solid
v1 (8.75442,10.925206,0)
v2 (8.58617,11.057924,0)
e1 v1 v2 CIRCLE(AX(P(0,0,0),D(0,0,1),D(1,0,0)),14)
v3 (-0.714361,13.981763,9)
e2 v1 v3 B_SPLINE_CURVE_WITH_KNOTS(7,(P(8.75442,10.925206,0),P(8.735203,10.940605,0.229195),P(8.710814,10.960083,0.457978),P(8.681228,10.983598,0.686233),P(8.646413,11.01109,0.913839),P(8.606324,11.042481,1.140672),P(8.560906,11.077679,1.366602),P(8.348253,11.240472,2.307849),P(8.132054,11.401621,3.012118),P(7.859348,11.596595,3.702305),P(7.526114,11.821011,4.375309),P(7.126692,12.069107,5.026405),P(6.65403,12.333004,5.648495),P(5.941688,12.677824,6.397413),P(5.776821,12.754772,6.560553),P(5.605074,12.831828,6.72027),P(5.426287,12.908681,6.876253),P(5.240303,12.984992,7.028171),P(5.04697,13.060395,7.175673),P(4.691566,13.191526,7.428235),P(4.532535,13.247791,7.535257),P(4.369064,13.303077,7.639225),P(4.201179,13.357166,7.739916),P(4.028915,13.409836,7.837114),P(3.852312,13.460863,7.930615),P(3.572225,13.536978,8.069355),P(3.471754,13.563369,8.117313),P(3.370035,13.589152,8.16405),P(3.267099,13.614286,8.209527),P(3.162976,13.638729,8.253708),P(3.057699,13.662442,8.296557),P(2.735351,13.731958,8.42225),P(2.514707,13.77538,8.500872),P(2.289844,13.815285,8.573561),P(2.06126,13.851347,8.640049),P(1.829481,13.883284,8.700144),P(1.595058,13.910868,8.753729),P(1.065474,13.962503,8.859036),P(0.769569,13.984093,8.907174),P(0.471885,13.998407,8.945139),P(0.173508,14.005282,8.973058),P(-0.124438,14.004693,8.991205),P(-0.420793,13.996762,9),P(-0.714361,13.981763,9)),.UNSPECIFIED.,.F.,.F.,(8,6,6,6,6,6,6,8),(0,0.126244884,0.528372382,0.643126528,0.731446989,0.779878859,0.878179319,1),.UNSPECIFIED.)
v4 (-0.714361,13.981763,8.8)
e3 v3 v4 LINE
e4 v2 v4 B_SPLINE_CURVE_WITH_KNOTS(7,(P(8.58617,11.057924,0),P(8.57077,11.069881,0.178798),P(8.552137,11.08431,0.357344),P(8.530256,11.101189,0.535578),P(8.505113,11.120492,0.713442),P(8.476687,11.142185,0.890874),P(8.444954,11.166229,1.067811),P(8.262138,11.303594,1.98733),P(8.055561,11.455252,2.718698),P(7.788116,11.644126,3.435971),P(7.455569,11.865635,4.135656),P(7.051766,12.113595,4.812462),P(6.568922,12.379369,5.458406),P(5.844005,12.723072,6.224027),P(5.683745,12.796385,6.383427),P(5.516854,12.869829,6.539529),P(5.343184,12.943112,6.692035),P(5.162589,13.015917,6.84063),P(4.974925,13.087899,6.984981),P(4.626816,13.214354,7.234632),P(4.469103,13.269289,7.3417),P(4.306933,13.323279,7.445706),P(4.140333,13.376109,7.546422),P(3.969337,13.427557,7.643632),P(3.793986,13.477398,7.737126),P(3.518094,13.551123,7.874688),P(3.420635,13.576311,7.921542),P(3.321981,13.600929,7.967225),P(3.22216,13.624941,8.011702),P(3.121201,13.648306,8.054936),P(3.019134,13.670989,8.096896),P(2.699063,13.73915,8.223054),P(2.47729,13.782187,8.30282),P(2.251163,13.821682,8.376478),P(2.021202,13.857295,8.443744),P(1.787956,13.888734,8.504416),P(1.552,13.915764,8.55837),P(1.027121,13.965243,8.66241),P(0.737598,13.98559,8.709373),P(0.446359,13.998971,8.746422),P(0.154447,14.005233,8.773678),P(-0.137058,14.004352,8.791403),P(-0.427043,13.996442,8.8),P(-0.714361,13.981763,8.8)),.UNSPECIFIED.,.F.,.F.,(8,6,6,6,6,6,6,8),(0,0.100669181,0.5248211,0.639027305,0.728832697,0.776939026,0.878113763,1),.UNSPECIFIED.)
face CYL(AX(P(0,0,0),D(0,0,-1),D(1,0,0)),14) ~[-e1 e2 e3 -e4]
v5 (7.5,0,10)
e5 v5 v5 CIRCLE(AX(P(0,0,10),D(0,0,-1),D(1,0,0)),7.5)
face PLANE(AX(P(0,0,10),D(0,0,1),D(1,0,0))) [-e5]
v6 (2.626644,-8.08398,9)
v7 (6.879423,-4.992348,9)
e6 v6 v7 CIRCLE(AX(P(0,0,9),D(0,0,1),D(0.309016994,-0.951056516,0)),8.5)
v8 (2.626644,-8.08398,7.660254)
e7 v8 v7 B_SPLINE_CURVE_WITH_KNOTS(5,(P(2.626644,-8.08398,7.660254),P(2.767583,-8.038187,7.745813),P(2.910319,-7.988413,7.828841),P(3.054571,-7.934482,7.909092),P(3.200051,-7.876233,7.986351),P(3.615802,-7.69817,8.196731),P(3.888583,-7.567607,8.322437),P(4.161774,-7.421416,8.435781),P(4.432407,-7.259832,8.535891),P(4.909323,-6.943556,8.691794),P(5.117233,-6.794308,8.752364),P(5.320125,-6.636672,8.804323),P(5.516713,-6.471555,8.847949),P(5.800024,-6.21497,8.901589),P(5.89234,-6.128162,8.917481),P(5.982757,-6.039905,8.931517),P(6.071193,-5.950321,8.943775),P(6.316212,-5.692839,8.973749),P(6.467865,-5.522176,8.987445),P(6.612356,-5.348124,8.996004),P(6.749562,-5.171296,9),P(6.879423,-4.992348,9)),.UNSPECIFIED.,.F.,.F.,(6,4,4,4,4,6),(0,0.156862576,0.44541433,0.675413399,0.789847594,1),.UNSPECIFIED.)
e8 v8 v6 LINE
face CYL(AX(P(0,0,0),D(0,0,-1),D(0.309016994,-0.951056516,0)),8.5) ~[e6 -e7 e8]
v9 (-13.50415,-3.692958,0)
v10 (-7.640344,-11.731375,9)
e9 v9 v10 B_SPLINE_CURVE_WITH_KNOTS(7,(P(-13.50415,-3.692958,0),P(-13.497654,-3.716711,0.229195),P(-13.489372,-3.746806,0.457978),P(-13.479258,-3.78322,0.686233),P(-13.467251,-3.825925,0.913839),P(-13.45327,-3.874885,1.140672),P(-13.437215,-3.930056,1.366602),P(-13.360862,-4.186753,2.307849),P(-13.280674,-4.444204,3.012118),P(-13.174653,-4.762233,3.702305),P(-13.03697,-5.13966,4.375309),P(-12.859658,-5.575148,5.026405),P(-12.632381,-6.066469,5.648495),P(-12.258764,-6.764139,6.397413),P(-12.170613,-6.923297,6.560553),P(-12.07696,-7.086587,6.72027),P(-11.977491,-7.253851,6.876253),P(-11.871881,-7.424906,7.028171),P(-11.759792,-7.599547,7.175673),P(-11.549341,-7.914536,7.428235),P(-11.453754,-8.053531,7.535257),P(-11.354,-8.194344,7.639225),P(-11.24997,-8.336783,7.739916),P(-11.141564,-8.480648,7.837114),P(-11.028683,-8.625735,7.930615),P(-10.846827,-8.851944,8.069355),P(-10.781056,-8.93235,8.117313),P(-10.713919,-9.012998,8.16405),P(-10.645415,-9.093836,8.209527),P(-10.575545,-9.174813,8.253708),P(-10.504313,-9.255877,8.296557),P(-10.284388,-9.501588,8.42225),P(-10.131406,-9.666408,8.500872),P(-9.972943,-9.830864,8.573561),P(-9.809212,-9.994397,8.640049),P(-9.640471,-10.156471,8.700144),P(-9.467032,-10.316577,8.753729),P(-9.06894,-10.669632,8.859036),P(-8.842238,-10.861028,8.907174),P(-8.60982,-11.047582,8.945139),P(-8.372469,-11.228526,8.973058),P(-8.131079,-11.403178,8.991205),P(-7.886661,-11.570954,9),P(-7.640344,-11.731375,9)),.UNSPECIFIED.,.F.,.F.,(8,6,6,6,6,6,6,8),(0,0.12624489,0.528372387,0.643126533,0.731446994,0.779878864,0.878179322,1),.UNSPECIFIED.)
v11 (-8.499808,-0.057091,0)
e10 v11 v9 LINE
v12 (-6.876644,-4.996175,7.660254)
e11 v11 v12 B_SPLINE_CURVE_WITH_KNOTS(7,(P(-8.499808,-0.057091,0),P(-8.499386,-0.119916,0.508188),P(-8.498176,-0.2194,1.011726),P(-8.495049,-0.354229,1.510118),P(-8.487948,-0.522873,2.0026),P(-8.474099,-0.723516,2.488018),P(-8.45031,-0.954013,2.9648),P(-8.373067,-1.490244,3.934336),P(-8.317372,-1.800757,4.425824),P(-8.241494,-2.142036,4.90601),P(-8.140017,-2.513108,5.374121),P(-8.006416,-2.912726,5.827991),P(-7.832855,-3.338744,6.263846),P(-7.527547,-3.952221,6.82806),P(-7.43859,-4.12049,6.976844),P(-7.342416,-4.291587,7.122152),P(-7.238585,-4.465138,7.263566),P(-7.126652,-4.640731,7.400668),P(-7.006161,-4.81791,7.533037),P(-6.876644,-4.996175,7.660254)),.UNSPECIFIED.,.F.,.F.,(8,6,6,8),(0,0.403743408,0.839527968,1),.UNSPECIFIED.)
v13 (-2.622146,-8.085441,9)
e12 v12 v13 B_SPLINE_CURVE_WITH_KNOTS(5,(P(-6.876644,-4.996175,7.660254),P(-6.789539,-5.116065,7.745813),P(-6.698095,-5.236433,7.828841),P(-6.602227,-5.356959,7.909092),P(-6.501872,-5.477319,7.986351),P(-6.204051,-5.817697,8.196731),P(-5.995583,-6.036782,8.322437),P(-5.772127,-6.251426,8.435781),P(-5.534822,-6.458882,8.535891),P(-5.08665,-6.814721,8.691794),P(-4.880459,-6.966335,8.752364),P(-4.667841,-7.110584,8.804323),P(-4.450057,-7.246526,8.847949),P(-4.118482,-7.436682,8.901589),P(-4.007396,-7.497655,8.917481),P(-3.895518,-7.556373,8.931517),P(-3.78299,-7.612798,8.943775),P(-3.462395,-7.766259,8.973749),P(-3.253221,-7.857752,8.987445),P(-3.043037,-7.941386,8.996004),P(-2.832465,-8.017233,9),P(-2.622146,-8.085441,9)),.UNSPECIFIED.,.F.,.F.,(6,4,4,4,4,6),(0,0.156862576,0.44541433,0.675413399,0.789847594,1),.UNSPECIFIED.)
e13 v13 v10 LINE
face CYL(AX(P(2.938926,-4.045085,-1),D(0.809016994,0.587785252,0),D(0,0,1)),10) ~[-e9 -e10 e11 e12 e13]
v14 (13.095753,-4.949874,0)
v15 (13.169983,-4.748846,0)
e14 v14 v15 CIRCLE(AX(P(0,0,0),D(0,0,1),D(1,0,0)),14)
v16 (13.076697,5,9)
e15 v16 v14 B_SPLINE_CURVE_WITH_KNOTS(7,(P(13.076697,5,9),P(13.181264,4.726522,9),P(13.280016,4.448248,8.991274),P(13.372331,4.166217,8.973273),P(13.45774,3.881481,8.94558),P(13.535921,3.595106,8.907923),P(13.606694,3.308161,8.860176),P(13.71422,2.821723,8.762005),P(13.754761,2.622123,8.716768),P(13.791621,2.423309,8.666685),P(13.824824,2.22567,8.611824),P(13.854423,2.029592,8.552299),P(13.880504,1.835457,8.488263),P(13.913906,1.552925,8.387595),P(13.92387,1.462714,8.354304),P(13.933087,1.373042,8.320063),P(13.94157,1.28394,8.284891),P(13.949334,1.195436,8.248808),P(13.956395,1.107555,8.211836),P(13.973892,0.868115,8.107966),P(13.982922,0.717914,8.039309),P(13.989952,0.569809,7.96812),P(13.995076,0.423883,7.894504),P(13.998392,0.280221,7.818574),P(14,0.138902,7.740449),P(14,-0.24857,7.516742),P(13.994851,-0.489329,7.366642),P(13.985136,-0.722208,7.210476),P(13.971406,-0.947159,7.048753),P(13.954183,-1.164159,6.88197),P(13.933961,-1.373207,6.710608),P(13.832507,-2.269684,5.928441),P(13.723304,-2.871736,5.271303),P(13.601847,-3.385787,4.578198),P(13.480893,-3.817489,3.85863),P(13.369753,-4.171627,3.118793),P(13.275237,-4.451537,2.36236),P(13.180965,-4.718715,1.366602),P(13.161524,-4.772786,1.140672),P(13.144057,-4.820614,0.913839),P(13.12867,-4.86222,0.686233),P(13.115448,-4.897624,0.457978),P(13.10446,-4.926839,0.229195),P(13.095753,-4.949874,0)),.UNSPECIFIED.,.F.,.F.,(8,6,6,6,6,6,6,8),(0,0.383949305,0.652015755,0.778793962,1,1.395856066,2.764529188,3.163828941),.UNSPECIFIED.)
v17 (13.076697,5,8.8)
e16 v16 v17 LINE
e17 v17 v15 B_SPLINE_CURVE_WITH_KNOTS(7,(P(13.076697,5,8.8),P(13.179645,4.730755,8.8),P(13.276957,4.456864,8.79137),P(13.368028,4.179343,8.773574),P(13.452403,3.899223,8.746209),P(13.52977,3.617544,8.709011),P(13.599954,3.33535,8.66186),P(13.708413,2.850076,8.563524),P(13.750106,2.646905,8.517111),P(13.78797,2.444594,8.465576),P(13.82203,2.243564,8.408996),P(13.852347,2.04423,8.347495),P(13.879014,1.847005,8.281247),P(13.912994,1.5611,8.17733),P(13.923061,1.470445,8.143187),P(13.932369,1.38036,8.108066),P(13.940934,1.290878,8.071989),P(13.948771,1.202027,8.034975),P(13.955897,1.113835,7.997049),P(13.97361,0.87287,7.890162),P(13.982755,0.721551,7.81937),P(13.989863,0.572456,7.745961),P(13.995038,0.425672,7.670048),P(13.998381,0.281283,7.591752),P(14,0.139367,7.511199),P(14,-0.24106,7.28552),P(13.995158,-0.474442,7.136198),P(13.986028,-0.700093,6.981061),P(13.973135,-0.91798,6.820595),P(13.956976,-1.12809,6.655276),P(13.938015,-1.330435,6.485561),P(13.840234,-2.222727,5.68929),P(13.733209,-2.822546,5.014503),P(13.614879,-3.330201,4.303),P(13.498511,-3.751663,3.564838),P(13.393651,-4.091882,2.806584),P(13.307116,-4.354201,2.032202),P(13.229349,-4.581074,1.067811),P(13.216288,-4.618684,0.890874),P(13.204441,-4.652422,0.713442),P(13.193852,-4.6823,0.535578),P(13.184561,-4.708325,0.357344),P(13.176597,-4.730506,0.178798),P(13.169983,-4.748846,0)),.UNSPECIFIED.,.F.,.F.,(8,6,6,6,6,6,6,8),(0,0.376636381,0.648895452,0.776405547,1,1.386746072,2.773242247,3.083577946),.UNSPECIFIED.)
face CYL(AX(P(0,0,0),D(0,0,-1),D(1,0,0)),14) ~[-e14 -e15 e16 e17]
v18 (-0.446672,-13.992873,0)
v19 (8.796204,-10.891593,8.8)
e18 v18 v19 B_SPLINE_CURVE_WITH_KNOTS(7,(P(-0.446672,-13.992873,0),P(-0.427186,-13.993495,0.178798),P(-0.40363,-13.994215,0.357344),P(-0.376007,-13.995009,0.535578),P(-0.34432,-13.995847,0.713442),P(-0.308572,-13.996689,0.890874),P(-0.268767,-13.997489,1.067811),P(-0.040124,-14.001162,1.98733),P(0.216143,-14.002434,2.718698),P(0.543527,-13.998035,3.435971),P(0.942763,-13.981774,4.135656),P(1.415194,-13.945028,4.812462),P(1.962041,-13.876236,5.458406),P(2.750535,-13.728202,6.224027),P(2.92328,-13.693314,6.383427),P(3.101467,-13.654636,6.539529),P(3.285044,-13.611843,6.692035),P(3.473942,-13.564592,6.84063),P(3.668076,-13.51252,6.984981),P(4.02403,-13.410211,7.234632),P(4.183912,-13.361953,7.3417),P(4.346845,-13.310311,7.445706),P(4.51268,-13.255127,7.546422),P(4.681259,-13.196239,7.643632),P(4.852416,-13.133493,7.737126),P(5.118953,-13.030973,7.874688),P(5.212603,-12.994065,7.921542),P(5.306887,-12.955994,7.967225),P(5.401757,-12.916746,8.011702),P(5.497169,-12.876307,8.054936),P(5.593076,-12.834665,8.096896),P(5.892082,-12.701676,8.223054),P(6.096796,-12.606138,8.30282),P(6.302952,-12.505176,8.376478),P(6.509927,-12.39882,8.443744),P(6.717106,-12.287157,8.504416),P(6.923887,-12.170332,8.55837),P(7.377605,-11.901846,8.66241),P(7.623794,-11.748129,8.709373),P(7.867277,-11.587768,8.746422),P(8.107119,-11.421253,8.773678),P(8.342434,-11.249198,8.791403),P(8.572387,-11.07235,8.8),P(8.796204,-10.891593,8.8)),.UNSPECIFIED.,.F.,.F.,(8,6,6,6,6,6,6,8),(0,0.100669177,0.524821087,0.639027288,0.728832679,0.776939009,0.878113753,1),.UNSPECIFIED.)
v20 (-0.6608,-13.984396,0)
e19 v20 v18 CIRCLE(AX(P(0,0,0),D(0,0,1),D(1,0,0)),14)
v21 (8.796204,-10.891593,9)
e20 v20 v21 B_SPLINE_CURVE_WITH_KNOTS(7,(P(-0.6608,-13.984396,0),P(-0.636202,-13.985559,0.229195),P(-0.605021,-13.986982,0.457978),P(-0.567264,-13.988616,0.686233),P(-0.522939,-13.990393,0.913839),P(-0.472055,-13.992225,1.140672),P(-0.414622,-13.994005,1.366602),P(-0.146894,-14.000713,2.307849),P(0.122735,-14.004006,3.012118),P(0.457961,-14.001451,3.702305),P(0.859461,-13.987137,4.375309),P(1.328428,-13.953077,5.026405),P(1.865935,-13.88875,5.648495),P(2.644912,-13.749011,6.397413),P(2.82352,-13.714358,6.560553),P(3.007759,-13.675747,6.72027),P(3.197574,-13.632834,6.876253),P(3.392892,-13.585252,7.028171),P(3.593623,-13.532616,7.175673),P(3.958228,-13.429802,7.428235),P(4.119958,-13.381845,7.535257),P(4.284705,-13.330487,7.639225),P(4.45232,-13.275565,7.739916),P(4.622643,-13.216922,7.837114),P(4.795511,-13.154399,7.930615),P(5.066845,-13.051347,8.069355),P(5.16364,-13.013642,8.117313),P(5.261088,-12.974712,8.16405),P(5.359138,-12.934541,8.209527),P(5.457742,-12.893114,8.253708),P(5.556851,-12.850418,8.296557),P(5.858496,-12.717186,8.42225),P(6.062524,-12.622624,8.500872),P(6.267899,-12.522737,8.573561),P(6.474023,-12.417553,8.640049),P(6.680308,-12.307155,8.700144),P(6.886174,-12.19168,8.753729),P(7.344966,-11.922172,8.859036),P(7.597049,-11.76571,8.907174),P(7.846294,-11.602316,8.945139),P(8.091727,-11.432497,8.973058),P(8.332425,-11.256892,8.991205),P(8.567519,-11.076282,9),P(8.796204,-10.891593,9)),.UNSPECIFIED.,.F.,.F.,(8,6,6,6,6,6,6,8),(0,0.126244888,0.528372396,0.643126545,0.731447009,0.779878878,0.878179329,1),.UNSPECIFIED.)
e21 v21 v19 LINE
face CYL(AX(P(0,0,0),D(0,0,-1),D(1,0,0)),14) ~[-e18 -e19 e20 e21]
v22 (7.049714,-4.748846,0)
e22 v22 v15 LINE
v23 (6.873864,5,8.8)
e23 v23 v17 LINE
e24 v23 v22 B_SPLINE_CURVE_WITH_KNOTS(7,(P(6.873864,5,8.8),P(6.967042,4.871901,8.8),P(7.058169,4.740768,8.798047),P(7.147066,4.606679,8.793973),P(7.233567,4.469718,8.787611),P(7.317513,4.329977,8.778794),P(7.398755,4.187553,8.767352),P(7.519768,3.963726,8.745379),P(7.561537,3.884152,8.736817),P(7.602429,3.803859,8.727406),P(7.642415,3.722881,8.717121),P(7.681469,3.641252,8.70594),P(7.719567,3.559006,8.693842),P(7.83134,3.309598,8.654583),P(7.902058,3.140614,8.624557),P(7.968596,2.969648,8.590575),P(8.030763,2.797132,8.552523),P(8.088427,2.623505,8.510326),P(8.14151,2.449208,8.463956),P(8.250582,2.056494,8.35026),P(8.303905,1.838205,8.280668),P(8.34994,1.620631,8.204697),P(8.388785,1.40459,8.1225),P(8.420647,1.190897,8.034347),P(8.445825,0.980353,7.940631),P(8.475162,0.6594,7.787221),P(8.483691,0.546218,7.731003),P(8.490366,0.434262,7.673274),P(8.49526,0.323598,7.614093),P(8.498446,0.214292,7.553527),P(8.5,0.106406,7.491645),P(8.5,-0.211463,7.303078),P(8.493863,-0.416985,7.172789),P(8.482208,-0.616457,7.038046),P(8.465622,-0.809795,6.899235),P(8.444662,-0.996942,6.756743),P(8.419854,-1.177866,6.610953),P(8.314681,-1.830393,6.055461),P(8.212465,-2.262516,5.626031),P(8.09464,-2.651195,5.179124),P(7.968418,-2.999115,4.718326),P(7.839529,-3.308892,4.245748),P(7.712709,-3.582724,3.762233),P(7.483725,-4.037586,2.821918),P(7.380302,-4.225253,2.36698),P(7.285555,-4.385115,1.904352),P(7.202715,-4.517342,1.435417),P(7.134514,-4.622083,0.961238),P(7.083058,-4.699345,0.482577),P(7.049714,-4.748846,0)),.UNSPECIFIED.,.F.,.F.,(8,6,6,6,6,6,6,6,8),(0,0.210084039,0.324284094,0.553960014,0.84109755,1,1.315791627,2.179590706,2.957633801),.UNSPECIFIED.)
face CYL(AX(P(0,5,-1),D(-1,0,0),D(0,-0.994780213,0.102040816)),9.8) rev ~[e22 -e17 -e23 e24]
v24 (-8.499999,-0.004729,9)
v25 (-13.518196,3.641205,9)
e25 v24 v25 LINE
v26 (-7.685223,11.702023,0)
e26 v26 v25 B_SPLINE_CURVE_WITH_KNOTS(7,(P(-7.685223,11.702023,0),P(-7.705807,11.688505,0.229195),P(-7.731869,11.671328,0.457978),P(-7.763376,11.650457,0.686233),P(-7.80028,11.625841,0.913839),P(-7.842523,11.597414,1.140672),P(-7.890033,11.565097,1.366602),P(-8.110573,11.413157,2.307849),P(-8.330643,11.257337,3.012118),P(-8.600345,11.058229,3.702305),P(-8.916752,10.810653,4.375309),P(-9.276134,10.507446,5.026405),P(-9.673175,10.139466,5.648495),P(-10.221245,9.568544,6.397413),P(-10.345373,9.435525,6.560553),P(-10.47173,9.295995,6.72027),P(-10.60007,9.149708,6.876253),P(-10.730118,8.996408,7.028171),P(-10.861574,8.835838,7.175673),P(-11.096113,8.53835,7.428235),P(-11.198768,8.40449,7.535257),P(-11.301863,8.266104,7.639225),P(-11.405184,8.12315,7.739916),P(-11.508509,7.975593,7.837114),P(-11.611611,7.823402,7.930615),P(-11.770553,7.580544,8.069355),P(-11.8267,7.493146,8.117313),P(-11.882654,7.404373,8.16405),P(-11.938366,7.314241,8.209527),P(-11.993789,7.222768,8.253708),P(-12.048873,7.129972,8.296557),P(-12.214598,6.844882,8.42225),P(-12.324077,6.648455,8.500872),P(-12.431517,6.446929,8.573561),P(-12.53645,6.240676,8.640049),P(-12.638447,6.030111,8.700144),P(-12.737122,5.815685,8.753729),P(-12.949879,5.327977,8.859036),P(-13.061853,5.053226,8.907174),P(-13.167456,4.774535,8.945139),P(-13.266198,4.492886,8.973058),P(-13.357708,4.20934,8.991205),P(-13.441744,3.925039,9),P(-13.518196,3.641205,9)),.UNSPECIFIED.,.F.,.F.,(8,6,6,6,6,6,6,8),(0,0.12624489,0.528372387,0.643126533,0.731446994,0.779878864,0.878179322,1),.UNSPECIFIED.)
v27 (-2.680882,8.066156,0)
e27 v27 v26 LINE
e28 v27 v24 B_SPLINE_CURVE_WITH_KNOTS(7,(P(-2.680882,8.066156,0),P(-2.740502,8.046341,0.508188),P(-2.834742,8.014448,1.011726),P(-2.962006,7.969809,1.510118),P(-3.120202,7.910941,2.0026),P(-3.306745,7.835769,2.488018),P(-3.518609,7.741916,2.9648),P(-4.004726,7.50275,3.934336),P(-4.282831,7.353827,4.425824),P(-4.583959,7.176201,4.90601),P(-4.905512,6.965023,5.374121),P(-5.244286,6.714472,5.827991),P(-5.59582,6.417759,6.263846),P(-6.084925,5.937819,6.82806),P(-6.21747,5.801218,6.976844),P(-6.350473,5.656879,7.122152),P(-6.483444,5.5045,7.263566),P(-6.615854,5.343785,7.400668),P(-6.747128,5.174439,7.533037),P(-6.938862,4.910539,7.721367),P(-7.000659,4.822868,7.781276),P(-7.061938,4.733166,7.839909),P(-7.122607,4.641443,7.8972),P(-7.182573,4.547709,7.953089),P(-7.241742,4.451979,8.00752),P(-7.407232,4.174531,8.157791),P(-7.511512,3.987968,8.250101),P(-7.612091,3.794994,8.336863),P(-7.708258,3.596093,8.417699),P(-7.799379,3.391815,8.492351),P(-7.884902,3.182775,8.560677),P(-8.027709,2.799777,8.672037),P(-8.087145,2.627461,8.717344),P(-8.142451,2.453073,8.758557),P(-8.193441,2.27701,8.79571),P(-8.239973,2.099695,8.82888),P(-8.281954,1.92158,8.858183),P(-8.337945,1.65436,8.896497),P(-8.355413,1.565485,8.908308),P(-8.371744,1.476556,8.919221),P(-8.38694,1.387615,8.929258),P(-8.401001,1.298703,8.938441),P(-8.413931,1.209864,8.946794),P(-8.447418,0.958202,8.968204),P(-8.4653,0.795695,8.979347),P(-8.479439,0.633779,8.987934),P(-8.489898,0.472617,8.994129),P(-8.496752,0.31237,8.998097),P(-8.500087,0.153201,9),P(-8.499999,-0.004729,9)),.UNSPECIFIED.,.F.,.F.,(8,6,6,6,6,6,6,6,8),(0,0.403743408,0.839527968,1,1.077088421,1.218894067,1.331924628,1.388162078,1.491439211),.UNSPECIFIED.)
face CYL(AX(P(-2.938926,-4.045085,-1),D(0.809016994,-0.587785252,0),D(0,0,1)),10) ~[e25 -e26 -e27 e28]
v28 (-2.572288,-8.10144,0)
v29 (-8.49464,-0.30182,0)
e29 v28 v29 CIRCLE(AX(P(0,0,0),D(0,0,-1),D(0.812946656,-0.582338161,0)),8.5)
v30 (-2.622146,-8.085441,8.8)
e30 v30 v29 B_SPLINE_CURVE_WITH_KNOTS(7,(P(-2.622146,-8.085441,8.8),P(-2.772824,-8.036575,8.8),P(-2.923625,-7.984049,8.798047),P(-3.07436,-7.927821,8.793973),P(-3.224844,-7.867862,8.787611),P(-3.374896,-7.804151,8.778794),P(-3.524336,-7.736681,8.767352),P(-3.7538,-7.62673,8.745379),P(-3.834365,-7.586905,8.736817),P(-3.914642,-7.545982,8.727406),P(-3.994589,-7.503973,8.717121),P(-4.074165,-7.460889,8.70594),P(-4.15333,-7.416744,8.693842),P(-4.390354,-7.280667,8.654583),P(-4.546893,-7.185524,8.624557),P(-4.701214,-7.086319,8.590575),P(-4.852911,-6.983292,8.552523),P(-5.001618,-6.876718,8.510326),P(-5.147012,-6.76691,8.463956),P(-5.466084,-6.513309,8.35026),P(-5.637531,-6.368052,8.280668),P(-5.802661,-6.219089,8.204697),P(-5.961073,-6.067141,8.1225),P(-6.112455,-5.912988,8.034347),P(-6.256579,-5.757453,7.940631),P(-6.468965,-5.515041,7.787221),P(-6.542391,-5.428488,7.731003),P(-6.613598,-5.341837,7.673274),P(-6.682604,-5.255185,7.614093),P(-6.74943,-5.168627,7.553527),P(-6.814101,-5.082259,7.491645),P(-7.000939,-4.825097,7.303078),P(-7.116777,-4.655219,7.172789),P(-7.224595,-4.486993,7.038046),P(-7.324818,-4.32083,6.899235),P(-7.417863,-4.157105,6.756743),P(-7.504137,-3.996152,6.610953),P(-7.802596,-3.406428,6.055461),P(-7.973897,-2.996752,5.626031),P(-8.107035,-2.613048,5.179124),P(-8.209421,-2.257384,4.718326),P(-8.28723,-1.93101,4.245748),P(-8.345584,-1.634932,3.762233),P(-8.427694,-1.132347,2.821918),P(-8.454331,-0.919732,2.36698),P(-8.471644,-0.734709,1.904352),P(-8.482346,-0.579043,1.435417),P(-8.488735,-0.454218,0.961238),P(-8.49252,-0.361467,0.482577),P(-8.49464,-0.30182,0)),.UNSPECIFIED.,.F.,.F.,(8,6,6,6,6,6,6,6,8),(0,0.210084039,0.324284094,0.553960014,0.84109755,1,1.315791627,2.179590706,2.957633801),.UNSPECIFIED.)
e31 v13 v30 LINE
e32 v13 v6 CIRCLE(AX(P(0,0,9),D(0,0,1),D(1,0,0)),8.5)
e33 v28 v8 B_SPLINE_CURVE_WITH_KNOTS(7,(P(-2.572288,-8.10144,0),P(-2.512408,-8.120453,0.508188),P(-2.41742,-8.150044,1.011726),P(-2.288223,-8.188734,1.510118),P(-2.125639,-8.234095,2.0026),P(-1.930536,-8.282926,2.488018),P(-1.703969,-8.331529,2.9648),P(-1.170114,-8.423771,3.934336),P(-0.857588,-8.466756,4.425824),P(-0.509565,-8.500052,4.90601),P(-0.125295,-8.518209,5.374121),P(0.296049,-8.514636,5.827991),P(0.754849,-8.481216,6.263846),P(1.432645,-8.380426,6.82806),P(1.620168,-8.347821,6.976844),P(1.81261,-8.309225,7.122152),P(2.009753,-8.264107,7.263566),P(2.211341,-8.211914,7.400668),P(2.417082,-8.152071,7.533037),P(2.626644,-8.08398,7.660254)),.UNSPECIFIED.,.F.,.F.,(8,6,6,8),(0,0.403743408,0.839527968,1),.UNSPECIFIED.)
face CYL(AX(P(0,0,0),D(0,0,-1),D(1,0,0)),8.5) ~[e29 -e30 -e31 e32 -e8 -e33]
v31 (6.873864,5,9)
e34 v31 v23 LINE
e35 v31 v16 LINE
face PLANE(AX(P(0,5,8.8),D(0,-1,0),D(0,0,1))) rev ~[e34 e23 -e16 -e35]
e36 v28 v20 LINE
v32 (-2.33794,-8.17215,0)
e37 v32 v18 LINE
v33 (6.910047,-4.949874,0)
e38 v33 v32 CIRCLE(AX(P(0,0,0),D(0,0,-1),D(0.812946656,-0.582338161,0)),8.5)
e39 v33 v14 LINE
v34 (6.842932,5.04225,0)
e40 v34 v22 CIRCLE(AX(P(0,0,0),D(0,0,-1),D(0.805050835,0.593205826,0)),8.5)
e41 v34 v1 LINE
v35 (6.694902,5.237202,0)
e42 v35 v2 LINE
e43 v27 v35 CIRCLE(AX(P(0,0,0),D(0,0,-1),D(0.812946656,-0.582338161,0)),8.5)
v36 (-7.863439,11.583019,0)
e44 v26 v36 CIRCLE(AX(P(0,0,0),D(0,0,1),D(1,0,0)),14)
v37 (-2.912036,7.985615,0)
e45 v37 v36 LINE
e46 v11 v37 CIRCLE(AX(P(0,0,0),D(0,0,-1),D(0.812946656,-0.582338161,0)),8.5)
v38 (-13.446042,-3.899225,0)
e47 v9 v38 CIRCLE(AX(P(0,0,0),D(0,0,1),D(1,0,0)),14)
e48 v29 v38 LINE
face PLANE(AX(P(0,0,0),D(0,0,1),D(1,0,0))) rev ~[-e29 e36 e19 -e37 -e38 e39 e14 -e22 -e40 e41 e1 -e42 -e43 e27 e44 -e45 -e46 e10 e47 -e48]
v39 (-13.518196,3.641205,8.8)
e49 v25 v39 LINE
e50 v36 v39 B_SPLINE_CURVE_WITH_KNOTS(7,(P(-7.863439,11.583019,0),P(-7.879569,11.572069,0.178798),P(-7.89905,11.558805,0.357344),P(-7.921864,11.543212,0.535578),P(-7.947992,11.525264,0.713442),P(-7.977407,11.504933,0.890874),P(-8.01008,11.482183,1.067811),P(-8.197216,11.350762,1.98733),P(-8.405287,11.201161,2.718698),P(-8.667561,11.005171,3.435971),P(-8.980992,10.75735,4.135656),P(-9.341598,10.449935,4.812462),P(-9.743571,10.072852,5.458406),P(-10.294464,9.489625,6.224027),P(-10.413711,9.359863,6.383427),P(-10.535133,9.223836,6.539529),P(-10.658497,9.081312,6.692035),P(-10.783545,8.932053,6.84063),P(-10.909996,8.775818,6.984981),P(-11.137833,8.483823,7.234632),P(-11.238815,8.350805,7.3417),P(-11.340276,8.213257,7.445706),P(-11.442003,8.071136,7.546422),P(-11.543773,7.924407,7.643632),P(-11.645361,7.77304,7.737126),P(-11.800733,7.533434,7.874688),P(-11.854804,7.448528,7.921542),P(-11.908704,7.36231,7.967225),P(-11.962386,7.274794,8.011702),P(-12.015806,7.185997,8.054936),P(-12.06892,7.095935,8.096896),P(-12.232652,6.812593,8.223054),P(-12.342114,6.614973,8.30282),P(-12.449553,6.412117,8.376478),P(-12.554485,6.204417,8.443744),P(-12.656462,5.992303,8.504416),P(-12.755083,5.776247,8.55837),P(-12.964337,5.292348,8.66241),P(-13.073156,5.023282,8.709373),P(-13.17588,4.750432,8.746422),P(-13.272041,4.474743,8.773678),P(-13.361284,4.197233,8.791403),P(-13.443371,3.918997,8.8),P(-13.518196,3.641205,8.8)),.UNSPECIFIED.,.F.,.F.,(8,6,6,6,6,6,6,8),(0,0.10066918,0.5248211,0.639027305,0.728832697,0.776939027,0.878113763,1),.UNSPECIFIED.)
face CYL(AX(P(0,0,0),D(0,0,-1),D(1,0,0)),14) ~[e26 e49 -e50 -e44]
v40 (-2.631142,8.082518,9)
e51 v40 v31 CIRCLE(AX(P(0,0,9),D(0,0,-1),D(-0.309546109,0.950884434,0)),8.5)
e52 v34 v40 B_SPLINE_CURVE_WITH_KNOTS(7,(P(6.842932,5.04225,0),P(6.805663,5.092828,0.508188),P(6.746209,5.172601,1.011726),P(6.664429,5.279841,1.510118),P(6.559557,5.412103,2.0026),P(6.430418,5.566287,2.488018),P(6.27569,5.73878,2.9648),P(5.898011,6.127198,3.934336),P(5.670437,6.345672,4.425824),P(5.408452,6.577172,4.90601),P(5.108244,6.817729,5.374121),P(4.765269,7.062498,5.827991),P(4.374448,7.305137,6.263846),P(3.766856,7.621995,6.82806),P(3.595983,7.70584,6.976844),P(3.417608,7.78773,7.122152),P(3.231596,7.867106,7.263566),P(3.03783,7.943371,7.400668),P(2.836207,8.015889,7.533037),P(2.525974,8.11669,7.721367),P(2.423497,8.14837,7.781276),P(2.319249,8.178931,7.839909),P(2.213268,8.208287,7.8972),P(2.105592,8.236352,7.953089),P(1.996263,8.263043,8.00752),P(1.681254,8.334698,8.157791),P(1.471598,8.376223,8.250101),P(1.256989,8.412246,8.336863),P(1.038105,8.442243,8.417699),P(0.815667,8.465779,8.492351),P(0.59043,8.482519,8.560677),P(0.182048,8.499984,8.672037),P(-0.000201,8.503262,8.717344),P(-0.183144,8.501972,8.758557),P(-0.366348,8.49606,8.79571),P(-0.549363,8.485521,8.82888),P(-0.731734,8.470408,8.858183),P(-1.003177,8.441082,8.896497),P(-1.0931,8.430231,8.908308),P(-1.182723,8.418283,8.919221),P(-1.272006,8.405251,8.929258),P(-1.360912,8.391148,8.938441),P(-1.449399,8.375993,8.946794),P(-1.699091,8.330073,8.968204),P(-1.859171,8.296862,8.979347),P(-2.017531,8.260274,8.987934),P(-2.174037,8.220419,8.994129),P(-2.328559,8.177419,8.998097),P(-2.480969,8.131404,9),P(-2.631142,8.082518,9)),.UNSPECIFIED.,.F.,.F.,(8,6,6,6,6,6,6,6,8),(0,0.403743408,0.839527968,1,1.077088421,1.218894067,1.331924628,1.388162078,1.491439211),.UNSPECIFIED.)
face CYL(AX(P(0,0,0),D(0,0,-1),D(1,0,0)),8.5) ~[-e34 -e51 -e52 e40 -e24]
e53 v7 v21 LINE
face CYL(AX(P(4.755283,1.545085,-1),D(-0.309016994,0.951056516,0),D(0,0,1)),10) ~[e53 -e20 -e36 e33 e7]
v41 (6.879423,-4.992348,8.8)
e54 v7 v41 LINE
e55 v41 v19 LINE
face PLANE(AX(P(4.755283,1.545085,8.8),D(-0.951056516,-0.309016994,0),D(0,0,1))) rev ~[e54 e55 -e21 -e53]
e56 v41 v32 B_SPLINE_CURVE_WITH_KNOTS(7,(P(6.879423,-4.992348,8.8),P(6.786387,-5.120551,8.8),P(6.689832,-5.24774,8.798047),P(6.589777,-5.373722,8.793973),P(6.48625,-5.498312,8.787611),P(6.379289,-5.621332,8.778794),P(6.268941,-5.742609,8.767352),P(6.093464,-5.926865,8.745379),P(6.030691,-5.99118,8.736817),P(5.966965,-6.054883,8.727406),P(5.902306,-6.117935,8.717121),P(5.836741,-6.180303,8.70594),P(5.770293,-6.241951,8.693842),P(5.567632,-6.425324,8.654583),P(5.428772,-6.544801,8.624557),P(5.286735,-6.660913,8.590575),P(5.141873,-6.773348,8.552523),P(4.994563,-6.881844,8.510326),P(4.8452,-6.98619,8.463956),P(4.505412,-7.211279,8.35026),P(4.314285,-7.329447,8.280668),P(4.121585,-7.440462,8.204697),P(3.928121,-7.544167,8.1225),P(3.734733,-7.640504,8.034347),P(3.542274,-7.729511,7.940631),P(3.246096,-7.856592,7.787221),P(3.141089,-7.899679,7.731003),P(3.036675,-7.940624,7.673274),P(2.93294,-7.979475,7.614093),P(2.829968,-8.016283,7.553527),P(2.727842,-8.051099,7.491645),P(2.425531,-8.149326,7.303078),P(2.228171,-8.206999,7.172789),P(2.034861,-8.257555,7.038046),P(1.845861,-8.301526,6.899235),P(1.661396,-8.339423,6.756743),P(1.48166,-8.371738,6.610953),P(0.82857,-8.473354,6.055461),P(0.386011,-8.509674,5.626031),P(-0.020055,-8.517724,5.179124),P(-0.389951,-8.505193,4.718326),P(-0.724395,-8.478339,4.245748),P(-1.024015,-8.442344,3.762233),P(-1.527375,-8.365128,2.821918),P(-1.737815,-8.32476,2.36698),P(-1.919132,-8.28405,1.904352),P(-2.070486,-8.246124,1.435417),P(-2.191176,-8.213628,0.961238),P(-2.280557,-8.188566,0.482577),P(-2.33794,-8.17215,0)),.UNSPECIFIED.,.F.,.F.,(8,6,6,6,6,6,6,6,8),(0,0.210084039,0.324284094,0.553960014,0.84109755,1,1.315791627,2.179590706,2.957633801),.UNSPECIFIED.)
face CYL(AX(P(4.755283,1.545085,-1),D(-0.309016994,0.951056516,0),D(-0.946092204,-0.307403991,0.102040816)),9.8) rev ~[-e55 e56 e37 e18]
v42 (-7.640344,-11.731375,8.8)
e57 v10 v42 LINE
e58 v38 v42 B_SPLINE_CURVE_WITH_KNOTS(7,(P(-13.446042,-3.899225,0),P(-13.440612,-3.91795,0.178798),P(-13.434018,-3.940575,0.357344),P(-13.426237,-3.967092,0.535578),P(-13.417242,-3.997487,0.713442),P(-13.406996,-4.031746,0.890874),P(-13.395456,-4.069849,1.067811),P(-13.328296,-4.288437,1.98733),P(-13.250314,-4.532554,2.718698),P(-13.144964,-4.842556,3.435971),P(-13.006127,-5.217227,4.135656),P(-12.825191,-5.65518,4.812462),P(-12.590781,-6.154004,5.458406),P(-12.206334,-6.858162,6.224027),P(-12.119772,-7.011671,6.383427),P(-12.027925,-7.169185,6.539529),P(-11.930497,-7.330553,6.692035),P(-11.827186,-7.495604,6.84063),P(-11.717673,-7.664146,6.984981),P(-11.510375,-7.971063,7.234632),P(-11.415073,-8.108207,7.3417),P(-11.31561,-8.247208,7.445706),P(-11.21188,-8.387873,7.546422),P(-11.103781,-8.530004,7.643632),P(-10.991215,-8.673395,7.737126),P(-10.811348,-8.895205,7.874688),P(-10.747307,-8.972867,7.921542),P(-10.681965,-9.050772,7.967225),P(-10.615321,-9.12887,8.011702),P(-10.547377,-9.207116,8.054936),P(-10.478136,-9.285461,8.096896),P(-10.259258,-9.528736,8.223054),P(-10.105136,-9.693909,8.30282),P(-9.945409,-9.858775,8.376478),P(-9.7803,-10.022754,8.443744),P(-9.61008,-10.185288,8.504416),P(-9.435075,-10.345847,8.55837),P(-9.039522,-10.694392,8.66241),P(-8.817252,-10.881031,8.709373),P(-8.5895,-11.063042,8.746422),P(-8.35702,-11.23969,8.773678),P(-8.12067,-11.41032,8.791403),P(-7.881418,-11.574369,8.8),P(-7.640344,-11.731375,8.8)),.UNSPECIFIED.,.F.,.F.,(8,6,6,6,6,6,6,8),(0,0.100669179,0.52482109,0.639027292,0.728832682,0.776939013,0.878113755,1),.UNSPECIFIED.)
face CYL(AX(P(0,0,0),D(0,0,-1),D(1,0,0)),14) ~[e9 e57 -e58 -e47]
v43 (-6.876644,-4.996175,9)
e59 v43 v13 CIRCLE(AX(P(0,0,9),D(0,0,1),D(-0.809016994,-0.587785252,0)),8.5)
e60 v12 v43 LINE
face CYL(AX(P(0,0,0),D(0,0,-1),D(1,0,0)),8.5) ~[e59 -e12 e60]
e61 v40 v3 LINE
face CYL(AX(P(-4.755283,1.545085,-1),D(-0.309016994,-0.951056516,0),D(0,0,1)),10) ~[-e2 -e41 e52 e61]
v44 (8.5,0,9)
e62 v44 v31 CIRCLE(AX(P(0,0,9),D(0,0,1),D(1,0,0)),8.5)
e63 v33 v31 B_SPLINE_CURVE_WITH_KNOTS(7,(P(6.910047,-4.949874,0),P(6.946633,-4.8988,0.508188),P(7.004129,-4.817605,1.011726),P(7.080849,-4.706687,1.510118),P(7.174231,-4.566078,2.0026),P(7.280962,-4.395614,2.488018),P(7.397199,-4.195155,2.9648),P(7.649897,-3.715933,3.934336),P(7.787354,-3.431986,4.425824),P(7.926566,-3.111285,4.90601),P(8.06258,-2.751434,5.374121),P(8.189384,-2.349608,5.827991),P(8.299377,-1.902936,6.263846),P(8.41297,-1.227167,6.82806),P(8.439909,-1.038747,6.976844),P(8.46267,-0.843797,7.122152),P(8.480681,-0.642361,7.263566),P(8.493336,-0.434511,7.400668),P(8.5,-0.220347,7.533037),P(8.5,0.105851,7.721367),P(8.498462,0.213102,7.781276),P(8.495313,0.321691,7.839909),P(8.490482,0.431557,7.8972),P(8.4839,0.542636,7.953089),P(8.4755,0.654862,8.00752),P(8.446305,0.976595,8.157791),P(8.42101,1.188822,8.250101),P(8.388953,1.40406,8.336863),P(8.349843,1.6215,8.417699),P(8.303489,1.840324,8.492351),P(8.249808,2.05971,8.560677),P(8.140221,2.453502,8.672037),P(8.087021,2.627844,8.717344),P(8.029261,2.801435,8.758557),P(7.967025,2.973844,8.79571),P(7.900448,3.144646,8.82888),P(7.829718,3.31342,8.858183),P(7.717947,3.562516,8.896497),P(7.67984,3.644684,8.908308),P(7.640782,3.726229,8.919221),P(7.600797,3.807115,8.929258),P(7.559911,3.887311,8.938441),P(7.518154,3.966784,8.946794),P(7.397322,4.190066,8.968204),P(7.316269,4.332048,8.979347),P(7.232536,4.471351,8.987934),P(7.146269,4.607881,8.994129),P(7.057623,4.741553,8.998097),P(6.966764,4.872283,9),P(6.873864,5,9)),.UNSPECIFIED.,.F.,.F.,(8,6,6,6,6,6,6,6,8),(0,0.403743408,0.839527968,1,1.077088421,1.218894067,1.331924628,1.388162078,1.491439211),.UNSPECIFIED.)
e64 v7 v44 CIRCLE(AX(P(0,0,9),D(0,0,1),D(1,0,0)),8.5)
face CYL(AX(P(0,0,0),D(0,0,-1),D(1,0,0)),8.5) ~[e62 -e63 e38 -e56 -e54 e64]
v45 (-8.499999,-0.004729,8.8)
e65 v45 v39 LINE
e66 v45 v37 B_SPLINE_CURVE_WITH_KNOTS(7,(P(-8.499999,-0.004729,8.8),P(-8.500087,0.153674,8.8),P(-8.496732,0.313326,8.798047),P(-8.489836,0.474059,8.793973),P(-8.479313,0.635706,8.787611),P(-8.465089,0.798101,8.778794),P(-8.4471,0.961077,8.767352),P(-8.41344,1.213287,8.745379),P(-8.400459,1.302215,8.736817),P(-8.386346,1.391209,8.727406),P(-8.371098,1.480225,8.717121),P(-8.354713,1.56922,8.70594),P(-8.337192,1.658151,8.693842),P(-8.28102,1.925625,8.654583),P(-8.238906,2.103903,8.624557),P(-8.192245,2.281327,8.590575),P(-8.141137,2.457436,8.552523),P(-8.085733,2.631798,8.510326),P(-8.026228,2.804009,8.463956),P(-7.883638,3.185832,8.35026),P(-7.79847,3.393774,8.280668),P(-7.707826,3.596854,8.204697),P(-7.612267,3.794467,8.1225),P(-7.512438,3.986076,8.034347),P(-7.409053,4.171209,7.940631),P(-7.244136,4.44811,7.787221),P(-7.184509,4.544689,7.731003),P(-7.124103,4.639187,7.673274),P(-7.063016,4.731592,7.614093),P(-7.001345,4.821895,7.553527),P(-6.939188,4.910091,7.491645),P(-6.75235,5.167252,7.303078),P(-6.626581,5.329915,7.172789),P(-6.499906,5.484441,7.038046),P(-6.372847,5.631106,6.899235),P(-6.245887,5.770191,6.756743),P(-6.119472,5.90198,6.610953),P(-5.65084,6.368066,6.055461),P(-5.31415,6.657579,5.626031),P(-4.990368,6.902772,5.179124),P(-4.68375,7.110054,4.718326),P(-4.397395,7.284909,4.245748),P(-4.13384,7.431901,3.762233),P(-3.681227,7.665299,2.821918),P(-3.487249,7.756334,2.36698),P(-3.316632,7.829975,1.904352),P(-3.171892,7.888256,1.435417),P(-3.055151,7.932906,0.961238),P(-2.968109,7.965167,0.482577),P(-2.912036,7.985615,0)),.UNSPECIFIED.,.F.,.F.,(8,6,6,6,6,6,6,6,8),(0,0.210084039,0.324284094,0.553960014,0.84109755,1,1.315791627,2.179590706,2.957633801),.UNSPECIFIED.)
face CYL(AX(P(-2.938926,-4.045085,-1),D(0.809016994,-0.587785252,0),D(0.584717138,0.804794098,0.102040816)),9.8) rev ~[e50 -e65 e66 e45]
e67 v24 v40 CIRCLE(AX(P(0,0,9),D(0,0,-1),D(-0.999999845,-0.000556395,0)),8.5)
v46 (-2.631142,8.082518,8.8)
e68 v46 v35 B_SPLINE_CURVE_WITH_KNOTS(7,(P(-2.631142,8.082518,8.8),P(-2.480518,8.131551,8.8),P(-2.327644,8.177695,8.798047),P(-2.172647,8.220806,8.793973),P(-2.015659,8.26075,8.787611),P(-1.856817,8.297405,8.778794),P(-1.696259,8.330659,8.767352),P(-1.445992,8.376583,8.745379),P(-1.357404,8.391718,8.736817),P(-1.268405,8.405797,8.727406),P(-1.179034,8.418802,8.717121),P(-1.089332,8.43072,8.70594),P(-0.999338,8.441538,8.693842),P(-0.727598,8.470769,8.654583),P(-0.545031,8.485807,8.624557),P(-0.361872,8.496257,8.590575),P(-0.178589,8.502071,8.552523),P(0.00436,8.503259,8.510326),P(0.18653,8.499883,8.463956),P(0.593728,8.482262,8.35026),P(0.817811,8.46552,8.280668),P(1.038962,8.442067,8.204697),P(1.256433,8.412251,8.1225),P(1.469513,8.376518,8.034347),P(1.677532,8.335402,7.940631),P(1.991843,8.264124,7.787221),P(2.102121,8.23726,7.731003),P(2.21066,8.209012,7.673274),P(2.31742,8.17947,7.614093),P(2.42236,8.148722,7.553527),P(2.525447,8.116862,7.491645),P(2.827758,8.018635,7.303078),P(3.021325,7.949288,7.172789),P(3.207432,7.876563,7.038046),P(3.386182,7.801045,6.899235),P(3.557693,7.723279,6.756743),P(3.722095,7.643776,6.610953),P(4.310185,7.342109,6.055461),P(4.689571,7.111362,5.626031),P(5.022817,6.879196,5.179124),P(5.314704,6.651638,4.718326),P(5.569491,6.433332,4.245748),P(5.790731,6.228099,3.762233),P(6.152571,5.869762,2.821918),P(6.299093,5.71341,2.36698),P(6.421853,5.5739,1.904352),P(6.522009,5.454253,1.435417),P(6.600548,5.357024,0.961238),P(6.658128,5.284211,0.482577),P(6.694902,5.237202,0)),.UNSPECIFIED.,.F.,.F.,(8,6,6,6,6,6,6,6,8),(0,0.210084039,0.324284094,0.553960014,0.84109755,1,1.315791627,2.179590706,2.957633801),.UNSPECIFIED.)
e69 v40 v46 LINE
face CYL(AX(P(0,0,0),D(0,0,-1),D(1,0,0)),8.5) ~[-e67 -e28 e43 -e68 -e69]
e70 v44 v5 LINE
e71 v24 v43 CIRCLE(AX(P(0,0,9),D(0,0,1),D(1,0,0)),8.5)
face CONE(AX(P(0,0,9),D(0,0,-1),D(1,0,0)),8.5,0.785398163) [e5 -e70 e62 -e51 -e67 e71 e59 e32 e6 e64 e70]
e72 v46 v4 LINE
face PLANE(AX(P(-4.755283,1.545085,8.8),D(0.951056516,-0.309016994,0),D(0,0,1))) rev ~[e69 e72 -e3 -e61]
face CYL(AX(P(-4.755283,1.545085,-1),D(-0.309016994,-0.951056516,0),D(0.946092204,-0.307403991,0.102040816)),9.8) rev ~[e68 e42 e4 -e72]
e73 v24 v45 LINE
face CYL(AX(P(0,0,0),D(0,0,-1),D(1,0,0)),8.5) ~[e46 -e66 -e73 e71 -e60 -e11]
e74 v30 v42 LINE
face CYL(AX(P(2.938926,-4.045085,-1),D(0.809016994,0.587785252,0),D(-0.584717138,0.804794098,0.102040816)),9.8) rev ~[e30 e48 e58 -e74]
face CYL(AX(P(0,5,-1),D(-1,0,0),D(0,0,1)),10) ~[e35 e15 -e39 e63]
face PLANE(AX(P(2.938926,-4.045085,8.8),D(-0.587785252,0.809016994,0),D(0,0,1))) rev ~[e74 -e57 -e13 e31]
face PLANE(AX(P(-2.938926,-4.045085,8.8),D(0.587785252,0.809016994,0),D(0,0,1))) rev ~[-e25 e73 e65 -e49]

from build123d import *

# Parameters (mm, degrees)
F0_R     = 8.5
F1_DEPTH = 10
F2_SIZE  = 1
F4_DEPTH = 25
F6_COUNT = 5
F7_R     = 30
F7_R_2   = 14
F8_DEPTH = 25


with BuildPart() as f1:
    # F0 (on Top) → F1 (new body)
    with BuildSketch(Plane.XY):
        Circle(F0_R)
    extrude(amount=F1_DEPTH)

    # F2
    f2_edges = [f1.edges().sort_by_distance(p)[0] for p in [
        (-8.5, 0, 10),
    ]]
    chamfer(f2_edges, length=F2_SIZE)

    # F3 (on Right) → F4 (join)
    with BuildSketch(Plane.YZ):
        with BuildLine():
            Line((5, 8.8), (5, 9))
            ThreePointArc((5, 9), (-1.7082039325, 6.4161984871), (-4.9498743711, 0))
            Line((-4.9498743711, 0), (-4.7488460856, 0))
            ThreePointArc((-4.7488460856, 0), (-1.5665820638, 6.2746133918), (5, 8.8))
        make_face()
    extrude(amount=F4_DEPTH)

    # F6: F1 ×5 about axis
    f6_axis = Axis((0, 0, 8.4288474172), (0, 0, 1))


with BuildPart() as f1_1:
    add(f1.part)
    for i in range(1, F6_COUNT):
        add(f1.part.rotate(f6_axis, i * 360 / F6_COUNT))

    # F7 (on Top) → F8 (cut)
    with BuildSketch(Plane.XY):
        Circle(F7_R)
        Circle(F7_R_2, mode=Mode.SUBTRACT)
    extrude(amount=F8_DEPTH, mode=Mode.SUBTRACT)


solid = f1_1.part
